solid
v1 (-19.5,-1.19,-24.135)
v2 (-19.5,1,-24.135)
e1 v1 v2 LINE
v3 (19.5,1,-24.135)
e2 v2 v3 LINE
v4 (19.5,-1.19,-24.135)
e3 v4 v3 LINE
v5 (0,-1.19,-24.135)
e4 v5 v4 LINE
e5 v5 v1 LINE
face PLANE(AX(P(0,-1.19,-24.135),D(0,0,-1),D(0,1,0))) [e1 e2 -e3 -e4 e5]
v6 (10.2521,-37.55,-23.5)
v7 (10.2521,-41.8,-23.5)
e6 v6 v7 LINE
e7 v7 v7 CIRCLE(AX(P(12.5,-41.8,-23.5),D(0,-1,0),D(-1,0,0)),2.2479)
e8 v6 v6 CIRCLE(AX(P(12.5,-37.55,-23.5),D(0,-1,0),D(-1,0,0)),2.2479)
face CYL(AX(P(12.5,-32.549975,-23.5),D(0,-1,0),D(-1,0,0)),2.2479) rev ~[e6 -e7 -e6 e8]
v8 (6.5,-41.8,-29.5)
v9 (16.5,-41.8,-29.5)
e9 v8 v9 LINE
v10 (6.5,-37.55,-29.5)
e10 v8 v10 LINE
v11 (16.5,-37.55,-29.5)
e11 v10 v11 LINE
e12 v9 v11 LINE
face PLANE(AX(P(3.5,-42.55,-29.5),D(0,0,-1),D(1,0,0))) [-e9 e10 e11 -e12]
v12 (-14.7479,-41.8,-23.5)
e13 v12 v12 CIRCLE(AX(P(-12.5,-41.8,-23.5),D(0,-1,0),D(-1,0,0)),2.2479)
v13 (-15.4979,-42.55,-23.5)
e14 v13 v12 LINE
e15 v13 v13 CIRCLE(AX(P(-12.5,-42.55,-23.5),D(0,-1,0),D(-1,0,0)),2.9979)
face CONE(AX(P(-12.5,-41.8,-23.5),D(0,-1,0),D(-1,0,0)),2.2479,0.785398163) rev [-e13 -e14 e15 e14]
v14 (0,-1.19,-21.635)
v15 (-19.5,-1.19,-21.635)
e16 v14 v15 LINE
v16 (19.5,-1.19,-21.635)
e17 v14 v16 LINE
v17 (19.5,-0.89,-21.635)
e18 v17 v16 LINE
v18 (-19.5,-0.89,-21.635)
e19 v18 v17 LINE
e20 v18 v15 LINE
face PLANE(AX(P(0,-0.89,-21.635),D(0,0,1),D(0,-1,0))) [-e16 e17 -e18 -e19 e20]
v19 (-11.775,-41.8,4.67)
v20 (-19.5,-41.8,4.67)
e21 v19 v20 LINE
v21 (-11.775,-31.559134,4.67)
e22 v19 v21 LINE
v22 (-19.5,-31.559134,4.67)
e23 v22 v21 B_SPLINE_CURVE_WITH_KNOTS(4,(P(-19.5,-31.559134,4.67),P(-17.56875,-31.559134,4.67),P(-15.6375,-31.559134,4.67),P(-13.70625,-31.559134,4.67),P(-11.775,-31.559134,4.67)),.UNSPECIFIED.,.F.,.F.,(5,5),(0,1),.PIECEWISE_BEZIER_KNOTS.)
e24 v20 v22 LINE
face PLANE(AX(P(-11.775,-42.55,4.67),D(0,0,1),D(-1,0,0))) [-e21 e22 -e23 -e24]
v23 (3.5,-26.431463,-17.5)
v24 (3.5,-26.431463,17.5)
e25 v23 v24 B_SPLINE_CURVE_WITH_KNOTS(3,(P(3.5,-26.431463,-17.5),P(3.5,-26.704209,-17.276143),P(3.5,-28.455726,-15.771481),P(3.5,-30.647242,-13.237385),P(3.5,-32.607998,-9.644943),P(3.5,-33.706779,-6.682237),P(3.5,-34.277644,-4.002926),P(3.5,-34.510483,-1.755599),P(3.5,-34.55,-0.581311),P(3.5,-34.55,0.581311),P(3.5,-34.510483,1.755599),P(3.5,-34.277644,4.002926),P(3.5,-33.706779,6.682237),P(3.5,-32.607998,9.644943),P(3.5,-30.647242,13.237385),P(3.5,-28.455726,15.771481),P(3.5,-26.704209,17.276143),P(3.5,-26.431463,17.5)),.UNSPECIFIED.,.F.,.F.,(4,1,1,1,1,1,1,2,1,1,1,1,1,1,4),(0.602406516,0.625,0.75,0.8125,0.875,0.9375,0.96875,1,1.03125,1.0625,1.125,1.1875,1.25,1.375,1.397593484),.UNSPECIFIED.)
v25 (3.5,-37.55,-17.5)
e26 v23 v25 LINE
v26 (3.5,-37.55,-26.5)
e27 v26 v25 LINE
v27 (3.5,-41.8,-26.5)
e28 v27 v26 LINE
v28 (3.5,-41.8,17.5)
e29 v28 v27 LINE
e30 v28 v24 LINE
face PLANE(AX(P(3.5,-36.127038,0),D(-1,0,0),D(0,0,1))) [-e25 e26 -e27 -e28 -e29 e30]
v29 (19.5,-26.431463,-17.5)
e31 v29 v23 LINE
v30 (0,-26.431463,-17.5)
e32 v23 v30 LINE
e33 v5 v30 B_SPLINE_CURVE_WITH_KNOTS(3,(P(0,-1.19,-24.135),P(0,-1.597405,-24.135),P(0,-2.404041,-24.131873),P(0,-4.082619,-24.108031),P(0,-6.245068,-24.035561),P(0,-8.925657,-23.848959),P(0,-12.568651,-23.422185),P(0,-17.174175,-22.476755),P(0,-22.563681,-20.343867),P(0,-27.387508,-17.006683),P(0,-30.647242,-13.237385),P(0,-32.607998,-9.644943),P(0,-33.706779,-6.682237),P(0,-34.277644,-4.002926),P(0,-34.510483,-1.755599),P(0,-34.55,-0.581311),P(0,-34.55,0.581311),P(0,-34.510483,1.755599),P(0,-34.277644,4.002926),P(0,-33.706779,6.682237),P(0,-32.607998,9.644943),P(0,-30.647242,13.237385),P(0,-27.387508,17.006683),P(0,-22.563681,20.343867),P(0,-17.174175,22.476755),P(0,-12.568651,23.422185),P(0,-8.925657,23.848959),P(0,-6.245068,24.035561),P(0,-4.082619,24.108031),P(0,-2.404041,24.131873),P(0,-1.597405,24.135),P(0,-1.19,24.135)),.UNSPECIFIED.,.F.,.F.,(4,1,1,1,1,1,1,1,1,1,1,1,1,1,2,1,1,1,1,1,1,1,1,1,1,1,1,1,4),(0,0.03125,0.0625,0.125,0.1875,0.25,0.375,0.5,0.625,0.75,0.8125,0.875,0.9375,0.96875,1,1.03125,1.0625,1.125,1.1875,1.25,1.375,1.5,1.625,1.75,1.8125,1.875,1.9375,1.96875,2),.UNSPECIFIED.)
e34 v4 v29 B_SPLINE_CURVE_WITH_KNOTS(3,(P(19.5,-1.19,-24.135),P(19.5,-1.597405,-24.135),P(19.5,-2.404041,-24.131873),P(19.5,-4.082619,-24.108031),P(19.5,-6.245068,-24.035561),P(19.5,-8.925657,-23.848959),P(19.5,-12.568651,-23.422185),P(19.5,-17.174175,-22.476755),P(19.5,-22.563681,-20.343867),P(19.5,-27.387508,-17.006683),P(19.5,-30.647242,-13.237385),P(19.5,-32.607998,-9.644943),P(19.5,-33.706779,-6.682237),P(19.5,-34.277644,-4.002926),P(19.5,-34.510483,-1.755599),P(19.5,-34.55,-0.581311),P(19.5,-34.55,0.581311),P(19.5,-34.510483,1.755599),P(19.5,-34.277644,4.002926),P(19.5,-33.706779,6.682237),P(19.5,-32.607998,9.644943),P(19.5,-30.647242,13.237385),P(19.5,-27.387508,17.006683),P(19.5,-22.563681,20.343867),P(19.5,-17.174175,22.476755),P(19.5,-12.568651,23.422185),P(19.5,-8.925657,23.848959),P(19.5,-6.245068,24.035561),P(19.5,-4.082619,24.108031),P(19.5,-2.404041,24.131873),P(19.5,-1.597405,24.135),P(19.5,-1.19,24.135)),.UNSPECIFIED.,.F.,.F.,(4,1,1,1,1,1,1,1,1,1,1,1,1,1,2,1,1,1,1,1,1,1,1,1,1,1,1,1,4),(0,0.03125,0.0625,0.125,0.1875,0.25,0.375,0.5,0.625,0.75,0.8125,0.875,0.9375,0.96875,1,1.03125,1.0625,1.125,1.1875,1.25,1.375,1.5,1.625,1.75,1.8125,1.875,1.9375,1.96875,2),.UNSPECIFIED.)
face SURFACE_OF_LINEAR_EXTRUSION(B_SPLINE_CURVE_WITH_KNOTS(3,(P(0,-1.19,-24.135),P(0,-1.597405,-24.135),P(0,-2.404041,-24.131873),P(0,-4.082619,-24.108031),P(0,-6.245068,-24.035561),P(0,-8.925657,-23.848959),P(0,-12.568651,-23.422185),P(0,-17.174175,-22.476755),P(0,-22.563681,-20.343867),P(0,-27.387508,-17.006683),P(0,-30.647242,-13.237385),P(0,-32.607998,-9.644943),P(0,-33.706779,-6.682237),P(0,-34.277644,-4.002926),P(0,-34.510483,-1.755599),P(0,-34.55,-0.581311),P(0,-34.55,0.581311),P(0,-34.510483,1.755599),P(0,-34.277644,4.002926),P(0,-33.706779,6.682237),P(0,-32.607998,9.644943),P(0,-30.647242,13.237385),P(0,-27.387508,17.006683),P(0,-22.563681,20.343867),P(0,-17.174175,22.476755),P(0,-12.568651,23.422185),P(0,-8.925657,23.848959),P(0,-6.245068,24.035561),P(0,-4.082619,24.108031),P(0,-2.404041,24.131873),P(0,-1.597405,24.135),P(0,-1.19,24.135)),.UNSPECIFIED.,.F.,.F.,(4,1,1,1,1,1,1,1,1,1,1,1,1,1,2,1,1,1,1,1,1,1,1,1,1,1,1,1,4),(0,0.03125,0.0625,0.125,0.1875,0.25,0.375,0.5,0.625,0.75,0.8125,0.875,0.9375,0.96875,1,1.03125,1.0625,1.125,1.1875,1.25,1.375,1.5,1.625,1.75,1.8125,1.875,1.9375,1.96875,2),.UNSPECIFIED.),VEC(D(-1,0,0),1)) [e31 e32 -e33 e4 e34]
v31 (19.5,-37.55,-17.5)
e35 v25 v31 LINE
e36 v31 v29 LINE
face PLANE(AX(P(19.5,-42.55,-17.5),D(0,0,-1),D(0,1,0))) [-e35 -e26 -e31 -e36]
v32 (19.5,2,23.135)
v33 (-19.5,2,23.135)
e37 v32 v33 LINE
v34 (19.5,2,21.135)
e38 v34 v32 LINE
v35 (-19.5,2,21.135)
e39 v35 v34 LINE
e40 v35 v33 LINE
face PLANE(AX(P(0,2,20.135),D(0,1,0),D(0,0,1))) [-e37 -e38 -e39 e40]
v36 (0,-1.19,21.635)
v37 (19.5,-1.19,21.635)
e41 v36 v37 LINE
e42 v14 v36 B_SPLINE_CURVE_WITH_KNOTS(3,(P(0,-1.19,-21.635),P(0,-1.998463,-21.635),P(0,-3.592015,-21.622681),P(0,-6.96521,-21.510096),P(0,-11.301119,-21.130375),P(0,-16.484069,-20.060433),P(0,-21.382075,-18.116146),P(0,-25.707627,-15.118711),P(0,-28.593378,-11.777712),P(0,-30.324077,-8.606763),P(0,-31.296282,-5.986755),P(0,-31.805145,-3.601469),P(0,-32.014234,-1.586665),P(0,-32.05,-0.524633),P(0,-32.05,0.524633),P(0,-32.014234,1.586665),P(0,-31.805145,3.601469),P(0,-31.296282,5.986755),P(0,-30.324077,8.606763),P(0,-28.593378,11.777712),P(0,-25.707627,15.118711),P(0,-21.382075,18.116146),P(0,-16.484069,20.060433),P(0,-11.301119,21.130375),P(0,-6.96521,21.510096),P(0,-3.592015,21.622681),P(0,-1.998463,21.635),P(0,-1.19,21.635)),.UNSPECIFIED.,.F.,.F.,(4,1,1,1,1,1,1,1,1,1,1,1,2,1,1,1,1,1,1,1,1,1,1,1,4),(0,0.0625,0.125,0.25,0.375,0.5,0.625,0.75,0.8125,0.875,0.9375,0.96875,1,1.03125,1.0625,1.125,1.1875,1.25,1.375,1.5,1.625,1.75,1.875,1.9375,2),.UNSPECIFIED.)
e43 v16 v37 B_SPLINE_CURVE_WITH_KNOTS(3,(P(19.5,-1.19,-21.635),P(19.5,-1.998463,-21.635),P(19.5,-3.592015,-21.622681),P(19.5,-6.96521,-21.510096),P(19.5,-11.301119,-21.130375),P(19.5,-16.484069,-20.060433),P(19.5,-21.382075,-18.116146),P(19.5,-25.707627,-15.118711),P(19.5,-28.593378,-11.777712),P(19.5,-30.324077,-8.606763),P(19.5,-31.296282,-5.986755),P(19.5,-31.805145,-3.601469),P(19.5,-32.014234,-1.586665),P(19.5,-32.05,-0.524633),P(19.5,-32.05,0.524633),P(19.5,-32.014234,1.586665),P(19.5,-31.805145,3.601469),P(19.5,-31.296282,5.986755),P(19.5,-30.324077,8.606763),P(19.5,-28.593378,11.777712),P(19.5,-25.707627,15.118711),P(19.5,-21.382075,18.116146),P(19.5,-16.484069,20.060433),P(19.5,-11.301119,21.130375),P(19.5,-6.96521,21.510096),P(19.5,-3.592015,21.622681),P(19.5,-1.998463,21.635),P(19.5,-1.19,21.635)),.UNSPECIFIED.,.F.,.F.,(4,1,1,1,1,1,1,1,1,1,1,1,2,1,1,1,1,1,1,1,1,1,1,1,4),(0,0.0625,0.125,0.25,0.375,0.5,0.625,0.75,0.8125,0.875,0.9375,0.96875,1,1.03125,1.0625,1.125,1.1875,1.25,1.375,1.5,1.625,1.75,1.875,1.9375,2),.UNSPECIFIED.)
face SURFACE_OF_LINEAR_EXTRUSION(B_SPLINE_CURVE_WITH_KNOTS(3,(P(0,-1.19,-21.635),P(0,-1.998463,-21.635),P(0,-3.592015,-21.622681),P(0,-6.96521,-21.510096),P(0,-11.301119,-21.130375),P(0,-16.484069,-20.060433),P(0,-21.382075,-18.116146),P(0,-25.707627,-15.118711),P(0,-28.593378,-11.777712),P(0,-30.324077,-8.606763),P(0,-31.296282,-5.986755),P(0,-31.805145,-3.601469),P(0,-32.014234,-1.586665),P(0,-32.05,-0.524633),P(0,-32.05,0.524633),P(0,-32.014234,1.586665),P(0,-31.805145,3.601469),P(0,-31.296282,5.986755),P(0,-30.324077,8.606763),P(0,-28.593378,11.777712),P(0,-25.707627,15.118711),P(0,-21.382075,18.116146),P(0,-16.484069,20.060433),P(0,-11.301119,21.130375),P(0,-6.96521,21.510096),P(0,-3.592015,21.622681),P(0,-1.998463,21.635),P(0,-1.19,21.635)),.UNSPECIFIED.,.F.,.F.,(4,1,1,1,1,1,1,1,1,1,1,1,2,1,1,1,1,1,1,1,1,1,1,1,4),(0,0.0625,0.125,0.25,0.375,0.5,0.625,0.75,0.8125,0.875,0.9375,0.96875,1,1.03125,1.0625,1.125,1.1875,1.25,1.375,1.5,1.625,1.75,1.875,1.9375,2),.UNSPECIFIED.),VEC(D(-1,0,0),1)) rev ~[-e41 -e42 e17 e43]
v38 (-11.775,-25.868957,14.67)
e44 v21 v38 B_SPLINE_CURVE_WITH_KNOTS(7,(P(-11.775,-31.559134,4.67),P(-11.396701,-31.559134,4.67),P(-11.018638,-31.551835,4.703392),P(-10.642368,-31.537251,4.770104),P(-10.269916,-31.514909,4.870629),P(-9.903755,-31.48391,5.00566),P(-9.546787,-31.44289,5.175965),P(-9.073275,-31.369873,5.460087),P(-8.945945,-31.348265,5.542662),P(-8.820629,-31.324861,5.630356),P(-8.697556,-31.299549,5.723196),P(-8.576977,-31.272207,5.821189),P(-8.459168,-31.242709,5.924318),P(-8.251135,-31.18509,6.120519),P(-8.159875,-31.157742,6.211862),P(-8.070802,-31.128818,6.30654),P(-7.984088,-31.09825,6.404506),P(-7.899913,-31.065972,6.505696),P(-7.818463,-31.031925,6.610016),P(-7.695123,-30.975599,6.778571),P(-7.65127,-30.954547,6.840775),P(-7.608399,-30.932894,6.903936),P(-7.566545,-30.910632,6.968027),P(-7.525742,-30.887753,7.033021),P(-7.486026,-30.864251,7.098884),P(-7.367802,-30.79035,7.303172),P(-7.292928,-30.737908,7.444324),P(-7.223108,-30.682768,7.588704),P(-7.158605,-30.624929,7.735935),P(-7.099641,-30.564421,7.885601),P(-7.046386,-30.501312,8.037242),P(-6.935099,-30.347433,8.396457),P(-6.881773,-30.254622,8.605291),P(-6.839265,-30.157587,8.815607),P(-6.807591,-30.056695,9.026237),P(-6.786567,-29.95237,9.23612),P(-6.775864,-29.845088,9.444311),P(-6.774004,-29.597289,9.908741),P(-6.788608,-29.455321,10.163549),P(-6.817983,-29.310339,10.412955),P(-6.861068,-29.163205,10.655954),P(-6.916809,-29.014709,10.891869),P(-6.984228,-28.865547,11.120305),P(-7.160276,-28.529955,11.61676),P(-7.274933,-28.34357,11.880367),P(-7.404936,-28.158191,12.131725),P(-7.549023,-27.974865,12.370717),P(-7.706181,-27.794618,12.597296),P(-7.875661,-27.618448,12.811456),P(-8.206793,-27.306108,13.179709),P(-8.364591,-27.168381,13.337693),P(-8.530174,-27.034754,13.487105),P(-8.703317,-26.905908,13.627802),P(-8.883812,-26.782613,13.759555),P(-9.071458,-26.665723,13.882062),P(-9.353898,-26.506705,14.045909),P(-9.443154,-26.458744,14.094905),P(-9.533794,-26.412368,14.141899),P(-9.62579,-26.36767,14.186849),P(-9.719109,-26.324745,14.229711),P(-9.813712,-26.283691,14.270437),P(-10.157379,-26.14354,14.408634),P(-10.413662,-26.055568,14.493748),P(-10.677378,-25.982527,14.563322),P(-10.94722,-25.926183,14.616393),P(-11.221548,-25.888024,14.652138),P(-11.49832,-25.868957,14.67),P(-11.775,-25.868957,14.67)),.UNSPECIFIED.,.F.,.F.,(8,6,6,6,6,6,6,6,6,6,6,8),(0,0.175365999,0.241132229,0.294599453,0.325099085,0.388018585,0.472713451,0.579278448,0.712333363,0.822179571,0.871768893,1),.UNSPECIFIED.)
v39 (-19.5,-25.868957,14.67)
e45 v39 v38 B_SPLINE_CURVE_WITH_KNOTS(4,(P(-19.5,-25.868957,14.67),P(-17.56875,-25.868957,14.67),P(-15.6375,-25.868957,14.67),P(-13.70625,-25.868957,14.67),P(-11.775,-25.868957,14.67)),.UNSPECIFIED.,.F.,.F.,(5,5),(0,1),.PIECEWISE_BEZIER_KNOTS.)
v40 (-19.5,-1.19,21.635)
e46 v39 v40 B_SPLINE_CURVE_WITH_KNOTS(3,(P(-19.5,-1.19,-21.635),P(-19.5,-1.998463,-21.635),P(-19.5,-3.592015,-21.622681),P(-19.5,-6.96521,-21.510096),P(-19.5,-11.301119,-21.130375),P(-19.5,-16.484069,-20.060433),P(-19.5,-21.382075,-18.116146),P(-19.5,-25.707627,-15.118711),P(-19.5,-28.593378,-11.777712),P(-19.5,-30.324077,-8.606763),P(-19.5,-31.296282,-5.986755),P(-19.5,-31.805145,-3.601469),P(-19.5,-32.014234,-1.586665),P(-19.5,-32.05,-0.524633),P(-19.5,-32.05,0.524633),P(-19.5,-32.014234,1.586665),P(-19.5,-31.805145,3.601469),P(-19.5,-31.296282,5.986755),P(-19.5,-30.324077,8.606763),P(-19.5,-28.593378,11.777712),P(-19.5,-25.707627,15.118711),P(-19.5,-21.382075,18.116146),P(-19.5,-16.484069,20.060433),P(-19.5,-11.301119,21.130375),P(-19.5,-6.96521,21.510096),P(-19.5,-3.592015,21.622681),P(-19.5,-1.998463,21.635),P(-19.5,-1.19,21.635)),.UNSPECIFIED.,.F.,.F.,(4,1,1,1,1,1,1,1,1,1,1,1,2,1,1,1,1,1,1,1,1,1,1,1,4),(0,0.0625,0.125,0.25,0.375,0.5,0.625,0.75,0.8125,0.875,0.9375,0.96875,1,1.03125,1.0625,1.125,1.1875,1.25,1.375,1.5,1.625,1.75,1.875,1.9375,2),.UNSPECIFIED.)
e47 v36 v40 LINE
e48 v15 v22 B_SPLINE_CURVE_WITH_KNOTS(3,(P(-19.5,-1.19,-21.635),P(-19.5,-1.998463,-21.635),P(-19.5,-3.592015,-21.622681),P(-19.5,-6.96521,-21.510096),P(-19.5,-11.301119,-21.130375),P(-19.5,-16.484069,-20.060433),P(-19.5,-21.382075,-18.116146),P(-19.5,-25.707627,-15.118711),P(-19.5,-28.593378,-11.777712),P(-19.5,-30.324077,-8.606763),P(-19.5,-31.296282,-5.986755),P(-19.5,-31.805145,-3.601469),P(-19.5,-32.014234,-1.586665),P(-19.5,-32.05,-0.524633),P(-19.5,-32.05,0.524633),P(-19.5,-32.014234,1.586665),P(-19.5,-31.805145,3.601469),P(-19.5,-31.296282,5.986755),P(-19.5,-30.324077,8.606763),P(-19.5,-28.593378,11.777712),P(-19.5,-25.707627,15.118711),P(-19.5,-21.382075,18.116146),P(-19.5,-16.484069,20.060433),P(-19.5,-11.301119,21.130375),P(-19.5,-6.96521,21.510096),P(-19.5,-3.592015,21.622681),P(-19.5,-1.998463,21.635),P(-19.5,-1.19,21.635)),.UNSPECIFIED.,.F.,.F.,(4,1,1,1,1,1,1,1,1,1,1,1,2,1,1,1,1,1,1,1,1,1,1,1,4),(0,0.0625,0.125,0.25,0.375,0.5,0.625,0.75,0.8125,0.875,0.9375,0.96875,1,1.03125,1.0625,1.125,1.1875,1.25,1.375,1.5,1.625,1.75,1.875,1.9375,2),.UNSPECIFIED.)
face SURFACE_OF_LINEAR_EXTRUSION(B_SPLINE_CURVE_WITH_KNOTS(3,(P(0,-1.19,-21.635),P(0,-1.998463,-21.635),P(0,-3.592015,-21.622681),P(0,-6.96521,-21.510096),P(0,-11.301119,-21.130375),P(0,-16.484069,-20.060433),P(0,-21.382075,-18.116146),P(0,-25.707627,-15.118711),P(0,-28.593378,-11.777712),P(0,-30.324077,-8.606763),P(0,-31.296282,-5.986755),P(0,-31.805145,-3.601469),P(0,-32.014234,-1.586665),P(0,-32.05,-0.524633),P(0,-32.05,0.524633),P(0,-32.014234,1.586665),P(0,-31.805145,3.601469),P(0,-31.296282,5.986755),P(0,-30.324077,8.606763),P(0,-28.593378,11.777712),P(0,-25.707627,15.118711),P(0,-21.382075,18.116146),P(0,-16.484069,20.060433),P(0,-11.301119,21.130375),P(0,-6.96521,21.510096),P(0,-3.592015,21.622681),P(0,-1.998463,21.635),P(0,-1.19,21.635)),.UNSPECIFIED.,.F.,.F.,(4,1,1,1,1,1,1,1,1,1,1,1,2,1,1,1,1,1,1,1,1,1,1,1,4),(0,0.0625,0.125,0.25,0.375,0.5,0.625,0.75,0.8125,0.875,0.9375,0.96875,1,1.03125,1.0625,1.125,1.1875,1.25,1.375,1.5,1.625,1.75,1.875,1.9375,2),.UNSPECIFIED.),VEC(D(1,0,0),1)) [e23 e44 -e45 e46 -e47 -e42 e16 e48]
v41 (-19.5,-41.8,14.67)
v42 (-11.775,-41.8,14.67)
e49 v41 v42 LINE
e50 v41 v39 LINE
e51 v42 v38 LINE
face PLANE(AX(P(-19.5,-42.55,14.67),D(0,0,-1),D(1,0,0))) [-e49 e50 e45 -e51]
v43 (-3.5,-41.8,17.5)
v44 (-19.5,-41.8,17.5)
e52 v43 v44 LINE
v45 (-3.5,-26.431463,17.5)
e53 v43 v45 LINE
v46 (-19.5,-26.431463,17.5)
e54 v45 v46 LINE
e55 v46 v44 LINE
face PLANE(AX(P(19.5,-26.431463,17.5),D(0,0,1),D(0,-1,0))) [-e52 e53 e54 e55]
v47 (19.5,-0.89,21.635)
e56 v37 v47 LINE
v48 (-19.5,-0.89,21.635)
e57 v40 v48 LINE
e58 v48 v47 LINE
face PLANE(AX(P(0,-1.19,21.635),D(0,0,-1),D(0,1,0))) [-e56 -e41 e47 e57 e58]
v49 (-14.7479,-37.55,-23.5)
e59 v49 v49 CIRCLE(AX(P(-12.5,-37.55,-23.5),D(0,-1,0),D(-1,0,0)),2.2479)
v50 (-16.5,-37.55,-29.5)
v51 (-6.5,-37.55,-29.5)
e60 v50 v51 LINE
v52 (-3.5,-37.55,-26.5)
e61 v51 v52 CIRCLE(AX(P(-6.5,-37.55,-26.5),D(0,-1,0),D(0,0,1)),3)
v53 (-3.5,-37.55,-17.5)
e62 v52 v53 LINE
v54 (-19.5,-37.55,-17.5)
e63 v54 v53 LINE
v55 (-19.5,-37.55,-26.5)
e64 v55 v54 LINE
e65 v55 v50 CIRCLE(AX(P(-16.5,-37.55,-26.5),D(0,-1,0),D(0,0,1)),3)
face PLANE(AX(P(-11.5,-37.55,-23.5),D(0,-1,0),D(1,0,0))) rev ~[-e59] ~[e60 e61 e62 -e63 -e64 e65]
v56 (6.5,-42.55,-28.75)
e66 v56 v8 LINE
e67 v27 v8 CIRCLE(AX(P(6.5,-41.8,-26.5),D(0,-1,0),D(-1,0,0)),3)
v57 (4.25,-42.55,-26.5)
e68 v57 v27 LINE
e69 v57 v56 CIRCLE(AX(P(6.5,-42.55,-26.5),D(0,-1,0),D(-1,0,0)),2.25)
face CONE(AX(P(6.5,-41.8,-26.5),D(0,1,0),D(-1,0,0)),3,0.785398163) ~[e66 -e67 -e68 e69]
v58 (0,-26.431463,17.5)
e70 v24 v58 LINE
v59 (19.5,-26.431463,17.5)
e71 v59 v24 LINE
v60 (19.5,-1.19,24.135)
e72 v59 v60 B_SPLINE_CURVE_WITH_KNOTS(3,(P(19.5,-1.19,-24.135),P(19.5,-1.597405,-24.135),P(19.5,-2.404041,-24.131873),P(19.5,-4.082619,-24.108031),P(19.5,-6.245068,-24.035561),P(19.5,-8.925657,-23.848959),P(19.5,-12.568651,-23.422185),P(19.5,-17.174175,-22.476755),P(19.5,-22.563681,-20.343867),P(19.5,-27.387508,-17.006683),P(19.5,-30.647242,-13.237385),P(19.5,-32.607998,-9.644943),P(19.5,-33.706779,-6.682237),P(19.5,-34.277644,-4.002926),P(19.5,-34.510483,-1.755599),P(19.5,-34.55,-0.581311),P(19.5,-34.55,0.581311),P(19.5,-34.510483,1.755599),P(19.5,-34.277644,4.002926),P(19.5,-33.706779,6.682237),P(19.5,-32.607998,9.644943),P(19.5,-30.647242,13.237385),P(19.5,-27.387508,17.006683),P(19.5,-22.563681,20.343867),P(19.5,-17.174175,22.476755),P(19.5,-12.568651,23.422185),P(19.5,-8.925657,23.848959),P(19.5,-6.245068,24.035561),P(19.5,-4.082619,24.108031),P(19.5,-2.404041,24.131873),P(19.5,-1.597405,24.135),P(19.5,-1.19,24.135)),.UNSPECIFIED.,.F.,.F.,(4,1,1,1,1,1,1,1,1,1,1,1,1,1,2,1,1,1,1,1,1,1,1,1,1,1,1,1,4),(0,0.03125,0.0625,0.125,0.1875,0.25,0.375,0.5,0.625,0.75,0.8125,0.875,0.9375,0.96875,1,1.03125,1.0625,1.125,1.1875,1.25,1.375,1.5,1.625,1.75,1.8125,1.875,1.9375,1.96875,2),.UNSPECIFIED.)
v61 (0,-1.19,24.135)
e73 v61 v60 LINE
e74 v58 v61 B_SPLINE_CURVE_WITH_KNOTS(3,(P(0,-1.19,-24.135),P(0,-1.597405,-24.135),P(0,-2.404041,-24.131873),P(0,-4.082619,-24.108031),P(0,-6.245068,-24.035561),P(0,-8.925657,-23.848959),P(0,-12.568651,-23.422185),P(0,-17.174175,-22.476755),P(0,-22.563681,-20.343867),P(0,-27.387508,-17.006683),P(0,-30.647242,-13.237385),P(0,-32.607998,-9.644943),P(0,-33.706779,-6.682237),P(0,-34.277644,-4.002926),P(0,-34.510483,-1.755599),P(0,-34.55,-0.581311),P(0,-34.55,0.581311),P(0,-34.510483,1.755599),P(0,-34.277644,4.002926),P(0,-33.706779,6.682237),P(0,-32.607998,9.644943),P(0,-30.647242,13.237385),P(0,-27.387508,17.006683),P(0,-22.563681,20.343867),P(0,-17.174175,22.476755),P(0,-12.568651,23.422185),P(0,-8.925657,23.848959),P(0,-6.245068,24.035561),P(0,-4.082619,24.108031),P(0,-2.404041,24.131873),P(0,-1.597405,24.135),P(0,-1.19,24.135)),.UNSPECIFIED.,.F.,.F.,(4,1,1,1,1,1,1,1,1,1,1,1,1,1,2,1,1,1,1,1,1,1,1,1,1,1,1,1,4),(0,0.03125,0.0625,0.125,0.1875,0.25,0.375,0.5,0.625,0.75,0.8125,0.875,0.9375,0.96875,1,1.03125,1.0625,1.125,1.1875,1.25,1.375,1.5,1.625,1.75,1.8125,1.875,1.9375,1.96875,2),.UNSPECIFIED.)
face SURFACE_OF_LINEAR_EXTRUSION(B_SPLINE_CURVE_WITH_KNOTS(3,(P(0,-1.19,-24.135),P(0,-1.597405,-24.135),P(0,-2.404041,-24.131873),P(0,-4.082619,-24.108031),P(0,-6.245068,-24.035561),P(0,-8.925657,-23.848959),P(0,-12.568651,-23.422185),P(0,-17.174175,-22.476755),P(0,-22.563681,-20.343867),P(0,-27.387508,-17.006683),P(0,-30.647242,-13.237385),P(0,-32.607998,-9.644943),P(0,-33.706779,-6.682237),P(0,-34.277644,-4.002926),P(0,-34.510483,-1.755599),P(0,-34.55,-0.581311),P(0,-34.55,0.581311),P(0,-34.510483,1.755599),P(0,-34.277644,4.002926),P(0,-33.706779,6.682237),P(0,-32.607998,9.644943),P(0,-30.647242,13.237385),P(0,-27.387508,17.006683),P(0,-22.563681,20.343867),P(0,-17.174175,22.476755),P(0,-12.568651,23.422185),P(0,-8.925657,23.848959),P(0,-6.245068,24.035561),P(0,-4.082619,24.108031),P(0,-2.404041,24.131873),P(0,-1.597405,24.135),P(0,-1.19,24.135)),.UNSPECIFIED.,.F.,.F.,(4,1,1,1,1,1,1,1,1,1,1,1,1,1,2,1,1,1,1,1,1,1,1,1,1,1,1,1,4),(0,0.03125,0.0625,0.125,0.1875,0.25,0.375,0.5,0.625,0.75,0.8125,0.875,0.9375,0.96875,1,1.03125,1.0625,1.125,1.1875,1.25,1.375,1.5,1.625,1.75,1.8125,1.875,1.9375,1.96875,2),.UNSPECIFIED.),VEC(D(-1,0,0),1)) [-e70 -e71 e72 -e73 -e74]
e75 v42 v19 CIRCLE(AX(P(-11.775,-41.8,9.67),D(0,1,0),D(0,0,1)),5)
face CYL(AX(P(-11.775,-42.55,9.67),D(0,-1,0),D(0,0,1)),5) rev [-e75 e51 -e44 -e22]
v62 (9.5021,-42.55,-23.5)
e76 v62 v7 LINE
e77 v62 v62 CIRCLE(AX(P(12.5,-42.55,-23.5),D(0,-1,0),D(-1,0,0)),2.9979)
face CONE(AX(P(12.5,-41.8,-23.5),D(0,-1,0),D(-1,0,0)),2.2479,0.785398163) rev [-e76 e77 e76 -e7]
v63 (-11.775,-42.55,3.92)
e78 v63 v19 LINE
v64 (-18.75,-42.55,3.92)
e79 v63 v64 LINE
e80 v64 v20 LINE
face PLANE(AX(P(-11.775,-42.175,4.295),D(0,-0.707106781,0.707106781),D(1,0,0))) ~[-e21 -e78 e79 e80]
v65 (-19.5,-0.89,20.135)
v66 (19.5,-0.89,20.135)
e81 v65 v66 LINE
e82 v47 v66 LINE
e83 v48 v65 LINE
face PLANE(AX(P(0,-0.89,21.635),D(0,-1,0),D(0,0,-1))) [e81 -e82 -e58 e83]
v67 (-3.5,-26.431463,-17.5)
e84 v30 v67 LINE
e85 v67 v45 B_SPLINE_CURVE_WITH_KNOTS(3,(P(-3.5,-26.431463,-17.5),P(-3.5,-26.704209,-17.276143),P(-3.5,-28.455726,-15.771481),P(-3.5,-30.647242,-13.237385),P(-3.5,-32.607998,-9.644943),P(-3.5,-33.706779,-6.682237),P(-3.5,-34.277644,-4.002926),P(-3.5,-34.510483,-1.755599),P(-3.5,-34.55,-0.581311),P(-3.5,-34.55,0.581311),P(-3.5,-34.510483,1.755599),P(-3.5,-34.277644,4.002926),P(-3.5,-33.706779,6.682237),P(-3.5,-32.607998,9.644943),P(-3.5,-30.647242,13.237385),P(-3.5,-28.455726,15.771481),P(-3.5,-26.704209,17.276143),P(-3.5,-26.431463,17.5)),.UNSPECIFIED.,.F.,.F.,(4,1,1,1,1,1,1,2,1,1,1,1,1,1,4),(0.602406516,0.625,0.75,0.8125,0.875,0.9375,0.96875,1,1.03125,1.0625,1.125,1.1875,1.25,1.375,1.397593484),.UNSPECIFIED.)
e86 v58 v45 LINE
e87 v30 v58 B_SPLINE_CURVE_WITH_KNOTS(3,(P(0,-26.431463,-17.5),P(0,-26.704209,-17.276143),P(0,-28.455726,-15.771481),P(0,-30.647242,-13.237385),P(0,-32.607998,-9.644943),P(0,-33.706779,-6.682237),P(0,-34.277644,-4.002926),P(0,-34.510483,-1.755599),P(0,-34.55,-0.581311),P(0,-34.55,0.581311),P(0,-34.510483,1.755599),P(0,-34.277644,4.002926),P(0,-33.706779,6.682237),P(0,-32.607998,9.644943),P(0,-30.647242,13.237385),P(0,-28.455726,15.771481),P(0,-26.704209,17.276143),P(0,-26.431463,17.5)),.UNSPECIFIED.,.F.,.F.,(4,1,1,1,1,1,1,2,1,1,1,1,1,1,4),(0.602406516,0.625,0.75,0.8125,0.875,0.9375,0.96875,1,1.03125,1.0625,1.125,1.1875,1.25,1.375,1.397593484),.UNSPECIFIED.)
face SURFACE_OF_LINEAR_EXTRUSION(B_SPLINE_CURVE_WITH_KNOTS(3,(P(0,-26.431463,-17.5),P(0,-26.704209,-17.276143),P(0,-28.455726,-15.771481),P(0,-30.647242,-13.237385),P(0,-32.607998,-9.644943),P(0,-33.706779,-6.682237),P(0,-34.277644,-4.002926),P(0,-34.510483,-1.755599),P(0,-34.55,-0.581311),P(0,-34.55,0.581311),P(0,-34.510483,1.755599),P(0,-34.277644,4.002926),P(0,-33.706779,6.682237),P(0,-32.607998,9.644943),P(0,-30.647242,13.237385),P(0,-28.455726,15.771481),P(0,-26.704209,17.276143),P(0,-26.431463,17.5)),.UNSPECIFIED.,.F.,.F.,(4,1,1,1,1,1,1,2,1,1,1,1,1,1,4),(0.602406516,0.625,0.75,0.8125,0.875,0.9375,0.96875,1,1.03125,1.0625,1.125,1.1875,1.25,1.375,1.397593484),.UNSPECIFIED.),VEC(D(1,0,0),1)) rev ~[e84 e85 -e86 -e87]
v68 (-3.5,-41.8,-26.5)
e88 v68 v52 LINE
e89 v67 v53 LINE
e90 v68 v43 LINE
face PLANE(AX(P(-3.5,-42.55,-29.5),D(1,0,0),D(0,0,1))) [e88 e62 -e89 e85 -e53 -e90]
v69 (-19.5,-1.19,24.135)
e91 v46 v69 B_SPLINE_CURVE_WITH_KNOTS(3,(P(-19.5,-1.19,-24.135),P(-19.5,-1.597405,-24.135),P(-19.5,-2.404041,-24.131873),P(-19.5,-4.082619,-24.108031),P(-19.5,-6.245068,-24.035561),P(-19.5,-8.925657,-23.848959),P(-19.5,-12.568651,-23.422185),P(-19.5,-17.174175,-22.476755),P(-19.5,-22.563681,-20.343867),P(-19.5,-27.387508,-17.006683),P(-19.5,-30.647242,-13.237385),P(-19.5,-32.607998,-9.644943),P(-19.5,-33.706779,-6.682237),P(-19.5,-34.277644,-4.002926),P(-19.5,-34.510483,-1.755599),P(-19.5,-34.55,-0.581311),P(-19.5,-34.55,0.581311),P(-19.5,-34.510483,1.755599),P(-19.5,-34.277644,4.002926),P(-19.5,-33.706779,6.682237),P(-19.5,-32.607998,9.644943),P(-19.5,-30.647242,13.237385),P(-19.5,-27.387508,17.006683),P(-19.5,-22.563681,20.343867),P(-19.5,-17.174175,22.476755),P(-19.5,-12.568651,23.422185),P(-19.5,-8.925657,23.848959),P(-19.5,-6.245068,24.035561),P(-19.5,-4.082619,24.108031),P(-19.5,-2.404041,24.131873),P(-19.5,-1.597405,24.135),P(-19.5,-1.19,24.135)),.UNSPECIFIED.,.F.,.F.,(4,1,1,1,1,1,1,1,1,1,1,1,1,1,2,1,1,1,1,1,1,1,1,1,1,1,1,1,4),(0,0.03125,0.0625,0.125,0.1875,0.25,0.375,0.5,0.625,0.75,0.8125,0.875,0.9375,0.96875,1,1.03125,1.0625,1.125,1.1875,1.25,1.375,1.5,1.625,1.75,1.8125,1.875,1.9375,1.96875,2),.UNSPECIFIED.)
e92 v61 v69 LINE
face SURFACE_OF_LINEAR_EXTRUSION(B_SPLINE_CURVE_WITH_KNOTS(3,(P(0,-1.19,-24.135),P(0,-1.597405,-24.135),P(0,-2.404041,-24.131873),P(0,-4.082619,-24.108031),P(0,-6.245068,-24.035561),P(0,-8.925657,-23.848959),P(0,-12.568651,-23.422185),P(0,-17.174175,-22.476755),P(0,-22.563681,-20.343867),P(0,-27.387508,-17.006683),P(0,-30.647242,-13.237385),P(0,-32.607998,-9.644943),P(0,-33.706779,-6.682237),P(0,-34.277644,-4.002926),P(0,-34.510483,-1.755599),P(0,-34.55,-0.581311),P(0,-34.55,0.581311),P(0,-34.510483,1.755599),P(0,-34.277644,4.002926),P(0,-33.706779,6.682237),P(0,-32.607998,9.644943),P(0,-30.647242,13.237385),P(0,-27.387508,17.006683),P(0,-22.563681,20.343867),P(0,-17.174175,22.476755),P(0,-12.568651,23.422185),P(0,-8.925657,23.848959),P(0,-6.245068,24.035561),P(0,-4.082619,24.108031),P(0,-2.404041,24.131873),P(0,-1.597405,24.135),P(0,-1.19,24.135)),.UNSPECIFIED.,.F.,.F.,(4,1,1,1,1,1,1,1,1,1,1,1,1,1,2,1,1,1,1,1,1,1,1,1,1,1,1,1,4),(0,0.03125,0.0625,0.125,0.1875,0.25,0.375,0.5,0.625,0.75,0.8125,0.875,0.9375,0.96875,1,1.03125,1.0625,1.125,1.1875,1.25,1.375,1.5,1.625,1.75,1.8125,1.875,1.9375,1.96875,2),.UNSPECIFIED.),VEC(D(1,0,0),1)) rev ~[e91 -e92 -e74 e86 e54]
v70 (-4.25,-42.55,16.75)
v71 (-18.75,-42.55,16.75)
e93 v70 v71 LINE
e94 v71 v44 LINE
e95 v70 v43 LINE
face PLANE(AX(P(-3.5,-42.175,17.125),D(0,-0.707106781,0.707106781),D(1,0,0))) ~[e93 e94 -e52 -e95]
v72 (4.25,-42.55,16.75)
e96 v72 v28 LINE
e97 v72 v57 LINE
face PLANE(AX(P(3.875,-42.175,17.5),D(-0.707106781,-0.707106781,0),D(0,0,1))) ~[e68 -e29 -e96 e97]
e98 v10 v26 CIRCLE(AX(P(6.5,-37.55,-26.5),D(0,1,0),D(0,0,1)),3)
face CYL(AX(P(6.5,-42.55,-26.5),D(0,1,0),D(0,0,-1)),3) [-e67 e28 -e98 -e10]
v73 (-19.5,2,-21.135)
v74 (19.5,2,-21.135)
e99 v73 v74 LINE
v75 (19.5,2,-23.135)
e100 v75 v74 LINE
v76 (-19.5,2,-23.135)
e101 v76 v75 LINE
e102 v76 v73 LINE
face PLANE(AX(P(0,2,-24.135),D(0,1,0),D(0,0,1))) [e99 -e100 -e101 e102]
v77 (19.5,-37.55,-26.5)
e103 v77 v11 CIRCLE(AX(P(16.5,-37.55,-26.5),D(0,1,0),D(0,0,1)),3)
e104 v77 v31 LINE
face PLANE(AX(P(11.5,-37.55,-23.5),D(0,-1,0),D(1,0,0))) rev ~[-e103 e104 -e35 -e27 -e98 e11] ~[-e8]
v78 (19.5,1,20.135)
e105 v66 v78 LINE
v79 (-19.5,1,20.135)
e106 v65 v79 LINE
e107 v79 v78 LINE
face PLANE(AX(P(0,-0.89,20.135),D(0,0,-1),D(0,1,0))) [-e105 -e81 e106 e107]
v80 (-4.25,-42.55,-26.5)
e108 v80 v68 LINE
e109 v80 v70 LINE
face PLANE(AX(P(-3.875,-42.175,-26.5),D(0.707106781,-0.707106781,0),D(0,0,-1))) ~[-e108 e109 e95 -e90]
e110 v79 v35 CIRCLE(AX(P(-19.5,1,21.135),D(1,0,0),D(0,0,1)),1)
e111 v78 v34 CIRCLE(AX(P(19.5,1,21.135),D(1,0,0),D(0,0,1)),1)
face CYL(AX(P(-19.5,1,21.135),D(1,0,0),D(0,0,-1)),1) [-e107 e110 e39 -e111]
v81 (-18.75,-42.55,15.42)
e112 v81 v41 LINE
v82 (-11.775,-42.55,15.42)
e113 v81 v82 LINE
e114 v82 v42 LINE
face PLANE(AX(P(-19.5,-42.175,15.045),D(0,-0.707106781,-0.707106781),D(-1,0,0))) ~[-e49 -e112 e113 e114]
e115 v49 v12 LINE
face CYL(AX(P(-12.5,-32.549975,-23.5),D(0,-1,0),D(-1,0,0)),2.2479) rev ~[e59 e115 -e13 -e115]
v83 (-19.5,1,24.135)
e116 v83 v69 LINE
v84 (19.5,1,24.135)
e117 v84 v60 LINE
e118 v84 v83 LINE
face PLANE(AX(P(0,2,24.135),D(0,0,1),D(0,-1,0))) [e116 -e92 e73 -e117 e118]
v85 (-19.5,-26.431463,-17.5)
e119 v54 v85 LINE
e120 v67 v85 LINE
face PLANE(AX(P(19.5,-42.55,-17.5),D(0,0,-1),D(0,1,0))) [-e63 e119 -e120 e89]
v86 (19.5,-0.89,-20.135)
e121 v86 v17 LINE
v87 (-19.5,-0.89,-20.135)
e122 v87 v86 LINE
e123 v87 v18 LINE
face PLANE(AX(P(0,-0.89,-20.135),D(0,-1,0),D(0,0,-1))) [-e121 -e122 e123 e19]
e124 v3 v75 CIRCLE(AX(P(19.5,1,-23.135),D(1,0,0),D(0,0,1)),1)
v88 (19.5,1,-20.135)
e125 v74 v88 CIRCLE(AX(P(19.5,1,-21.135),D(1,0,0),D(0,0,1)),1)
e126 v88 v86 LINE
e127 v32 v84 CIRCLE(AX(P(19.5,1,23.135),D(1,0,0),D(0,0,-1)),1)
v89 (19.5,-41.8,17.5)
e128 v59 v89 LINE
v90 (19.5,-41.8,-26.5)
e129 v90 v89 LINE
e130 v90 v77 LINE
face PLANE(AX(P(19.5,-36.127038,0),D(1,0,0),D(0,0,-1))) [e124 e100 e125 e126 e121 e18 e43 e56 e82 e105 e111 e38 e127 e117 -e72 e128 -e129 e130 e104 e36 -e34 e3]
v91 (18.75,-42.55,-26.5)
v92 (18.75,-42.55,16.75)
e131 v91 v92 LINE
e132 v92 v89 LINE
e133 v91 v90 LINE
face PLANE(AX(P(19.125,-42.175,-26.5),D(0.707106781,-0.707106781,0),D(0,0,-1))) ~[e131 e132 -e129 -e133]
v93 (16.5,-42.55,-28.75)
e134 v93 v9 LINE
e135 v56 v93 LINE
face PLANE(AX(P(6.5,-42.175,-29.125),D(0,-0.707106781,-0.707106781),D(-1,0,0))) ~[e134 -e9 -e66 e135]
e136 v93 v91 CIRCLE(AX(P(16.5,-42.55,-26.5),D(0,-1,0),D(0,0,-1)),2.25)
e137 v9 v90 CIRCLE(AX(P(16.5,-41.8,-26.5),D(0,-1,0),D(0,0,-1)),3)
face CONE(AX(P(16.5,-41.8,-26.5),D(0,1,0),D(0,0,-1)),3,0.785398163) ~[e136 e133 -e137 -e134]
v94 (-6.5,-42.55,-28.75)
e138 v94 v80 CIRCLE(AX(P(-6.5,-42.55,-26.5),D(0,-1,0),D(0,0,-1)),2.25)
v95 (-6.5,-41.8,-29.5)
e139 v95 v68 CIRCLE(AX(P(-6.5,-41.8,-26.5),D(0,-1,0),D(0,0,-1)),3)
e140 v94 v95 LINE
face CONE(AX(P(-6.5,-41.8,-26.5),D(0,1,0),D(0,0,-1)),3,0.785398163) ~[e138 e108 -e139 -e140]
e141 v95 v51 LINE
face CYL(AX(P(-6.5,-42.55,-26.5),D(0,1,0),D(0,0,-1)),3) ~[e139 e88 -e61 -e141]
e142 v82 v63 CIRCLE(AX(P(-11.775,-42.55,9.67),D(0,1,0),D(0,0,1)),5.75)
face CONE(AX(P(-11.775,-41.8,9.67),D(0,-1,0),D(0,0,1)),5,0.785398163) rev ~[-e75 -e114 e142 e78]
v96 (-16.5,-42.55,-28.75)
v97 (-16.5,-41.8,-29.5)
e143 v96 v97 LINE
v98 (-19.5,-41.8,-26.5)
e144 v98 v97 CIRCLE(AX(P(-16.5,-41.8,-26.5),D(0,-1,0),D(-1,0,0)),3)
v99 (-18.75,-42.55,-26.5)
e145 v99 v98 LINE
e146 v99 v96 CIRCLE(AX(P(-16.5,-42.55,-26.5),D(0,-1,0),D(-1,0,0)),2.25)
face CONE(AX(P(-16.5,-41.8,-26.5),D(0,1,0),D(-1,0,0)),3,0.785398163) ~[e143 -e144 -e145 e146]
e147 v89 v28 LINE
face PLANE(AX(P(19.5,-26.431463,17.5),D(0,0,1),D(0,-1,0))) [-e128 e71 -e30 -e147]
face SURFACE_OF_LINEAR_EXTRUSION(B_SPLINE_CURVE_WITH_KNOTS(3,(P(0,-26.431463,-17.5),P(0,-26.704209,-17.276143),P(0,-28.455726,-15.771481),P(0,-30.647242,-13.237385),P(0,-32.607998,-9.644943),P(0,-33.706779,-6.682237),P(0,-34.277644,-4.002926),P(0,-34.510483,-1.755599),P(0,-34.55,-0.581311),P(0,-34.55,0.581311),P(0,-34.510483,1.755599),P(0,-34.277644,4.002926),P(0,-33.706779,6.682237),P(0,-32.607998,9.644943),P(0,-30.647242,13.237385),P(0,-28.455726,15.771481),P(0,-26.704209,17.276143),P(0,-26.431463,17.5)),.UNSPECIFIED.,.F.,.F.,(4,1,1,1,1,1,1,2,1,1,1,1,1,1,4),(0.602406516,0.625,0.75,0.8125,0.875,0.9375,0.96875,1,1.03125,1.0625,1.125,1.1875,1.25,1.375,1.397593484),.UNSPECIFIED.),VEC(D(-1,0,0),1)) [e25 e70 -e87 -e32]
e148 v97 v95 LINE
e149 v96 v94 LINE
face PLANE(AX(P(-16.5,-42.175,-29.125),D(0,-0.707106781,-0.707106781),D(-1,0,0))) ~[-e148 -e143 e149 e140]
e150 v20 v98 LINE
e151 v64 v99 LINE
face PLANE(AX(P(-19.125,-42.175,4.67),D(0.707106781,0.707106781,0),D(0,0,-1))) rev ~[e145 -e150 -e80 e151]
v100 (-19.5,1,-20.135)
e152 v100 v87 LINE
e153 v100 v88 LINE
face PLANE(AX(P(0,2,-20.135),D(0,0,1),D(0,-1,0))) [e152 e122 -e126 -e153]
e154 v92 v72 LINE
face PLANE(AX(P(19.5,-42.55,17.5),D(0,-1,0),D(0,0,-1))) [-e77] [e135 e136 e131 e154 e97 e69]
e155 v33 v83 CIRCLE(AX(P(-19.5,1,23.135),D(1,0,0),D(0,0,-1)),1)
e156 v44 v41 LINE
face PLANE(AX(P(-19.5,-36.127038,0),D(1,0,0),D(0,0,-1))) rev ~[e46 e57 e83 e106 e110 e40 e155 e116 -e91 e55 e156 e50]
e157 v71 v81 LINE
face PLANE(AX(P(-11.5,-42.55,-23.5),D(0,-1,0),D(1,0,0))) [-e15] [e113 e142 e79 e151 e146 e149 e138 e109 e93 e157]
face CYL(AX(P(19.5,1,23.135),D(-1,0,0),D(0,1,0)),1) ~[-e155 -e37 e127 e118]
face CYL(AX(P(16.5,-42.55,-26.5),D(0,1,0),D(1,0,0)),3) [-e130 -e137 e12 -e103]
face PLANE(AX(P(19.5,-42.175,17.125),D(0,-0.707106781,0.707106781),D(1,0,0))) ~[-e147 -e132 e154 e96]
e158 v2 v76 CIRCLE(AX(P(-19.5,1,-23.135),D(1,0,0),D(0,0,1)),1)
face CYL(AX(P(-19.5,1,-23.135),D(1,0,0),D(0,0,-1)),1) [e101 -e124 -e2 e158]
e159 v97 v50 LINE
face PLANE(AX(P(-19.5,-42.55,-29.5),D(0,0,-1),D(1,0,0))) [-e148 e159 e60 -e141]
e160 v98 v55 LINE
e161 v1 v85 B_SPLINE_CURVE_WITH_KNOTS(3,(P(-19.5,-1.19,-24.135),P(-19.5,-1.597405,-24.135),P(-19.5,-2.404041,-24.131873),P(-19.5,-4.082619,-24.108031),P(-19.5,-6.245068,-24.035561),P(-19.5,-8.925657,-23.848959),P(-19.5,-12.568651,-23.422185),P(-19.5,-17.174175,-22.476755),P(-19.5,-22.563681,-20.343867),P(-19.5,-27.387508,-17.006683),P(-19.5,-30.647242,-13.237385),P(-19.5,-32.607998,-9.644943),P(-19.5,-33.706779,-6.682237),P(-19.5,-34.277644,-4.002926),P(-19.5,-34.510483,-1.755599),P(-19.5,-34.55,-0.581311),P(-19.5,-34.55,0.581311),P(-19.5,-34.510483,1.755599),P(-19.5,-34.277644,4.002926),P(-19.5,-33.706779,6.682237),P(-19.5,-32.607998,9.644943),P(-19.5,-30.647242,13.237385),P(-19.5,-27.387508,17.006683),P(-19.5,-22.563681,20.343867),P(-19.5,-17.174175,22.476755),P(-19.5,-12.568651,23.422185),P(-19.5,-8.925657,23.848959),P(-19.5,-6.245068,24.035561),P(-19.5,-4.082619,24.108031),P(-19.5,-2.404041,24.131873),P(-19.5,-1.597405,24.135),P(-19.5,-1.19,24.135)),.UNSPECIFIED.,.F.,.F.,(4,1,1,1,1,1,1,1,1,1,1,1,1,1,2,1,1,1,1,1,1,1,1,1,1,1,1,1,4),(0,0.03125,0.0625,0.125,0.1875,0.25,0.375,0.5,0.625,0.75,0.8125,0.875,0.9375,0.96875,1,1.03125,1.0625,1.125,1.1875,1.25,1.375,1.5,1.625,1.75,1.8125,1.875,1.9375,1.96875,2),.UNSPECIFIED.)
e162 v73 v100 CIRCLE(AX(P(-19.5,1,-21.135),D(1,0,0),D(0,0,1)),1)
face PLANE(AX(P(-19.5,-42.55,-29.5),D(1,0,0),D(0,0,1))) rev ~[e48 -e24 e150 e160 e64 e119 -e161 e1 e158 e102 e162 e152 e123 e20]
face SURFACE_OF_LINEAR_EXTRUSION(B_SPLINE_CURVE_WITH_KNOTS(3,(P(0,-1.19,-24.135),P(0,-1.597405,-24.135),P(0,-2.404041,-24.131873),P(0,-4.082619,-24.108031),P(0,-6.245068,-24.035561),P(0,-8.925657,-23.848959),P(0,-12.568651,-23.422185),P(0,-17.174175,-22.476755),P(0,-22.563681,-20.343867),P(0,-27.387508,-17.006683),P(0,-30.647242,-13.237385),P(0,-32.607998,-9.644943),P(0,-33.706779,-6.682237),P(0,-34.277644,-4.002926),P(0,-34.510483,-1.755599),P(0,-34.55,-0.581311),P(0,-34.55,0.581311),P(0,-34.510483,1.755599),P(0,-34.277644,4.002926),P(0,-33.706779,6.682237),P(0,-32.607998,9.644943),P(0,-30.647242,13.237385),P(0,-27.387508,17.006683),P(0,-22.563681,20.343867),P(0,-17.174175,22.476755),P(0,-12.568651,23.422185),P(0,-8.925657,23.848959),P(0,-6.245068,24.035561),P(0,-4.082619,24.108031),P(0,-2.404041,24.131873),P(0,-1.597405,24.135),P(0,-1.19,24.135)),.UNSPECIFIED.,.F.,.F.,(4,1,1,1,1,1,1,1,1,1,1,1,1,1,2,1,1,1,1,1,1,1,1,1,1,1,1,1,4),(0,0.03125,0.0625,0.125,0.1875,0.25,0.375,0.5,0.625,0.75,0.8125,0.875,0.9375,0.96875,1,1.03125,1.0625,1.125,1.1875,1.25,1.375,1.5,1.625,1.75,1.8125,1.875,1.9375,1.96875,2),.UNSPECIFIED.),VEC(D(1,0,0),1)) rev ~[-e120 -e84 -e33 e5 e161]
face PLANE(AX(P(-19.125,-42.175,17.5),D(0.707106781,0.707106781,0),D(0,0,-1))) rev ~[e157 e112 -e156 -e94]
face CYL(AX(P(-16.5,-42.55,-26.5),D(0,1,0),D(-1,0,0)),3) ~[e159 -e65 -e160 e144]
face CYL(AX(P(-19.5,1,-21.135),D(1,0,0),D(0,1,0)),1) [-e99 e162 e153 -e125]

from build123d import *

# Parameters (mm, degrees)
BOSS_EXTRUDE1_DEPTH       = 19.5
BOSS_EXTRUDE2_DEPTH       = 39
CUT_EXTRUDE3_DEPTH        = 3.5
CUT_EXTRUDE4_DEPTH        = 55.290429568
FILLET3_R                 = 1
SKETCH17_W                = 16
SKETCH17_H                = 12
BOSS_EXTRUDE5_DEPTH       = 5
F_8_CLEARANCE_HOLE3_D     = 4.4958
F_8_CLEARANCE_HOLE3_DEPTH = 5.000025
FILLET4_R                 = 3
CHAMFER3_SIZE             = 0.75


with BuildPart() as part:
    # Sketch1 → Boss-Extrude1 (new, symmetric)
    with BuildSketch(Plane(origin=(0, 0, 0), x_dir=(0, 0, -1), z_dir=(1, 0, 0))):
        with BuildLine():
            Line((24.135, -1.19), (24.135, 2))
            Line((24.135, 2), (20.135, 2))
            Line((20.135, 2), (20.135, -0.89))
            Line((20.135, -0.89), (21.635, -0.89))
            Line((21.635, -0.89), (21.635, -1.19))
            add(Edge.make_bspline(
                [(21.635, -1.19), (21.635, -1.998462676), (21.622680551, -3.592014532), (21.510096247, -6.965209866), (21.130375225, -11.301119131), (20.060433065, -16.48406934), (18.116145963, -21.382074575), (15.118711368, -25.707626918), (11.777711797, -28.59337759), (8.606762697, -30.324077361), (5.986754657, -31.296281996), (3.601468567, -31.805145363), (1.586664566, -32.014234184), (0.524632806, -32.05), (0, -32.05)],
                knots=[0, 0, 0, 0, 0.0625, 0.125, 0.25, 0.375, 0.5, 0.625, 0.75, 0.8125, 0.875, 0.9375, 0.96875, 1, 1, 1, 1], degree=3))
            add(Edge.make_bspline(
                [(0, -32.05), (-0.524632806, -32.05), (-1.586664566, -32.014234184), (-3.601468567, -31.805145363), (-5.986754657, -31.296281996), (-8.606762697, -30.324077361), (-11.777711797, -28.59337759), (-15.118711368, -25.707626918), (-18.116145963, -21.382074575), (-20.060433065, -16.48406934), (-21.130375225, -11.301119131), (-21.510096247, -6.965209866), (-21.622680551, -3.592014532), (-21.635, -1.998462676), (-21.635, -1.19)],
                knots=[0, 0, 0, 0, 0.03125, 0.0625, 0.125, 0.1875, 0.25, 0.375, 0.5, 0.625, 0.75, 0.875, 0.9375, 1, 1, 1, 1], degree=3))
            Line((-21.635, -1.19), (-21.635, -0.89))
            Line((-21.635, -0.89), (-20.135, -0.89))
            Line((-20.135, -0.89), (-20.135, 2))
            Line((-20.135, 2), (-24.135, 2))
            Line((-24.135, 2), (-24.135, -1.19))
            add(Edge.make_bspline(
                [(0, -34.55), (-0.581310806, -34.55), (-1.755598946, -34.510482709), (-4.00292596, -34.277644235), (-6.682236507, -33.706779298), (-9.644943363, -32.607998263), (-13.237385134, -30.647242284), (-17.006683041, -27.387507945), (-20.343867001, -22.563681145), (-22.476754921, -17.174175127), (-23.422185467, -12.568650897), (-23.848958822, -8.925657265), (-24.035561365, -6.245067567), (-24.108030812, -4.082618687), (-24.131873053, -2.404041328), (-24.135, -1.59740537), (-24.135, -1.19)],
                knots=[0, 0, 0, 0, 0.03125, 0.0625, 0.125, 0.1875, 0.25, 0.375, 0.5, 0.625, 0.75, 0.8125, 0.875, 0.9375, 0.96875, 1, 1, 1, 1], degree=3))
            add(Edge.make_bspline(
                [(24.135, -1.19), (24.135, -1.59740537), (24.131873053, -2.404041328), (24.108030812, -4.082618687), (24.035561365, -6.245067567), (23.848958822, -8.925657265), (23.422185467, -12.568650897), (22.476754921, -17.174175127), (20.343867001, -22.563681145), (17.006683041, -27.387507945), (13.237385134, -30.647242284), (9.644943363, -32.607998263), (6.682236507, -33.706779298), (4.00292596, -34.277644235), (1.755598946, -34.510482709), (0.581310806, -34.55), (0, -34.55)],
                knots=[0, 0, 0, 0, 0.03125, 0.0625, 0.125, 0.1875, 0.25, 0.375, 0.5, 0.625, 0.75, 0.8125, 0.875, 0.9375, 0.96875, 1, 1, 1, 1], degree=3))
        make_face()
    extrude(amount=BOSS_EXTRUDE1_DEPTH, both=True)

    # Sketch4 → Boss-Extrude2 (add)
    with BuildSketch(Plane(origin=(19.5, 0, 0), x_dir=(0, 0, -1), z_dir=(1, 0, 0))):
        with BuildLine():
            Line((-17.5, -26.431462607), (-17.5, -42.55))
            Line((-17.5, -42.55), (17.5, -42.55))
            Line((17.5, -42.55), (17.5, -26.431462607))
            add(Edge.make_bspline(
                [(0, -34.55), (0.581310806, -34.55), (1.755598946, -34.510482709), (4.00292596, -34.277644235), (6.682236507, -33.706779298), (9.644943363, -32.607998263), (13.237385134, -30.647242284), (15.771480911, -28.45572566), (17.276143202, -26.704208912), (17.5, -26.431462607)],
                knots=[0, 0, 0, 0, 0.03125, 0.0625, 0.125, 0.1875, 0.25, 0.375, 0.397593484, 0.397593484, 0.397593484, 0.397593484], degree=3))
            add(Edge.make_bspline(
                [(-17.5, -26.431462607), (-17.276143202, -26.704208912), (-15.771480911, -28.45572566), (-13.237385134, -30.647242284), (-9.644943363, -32.607998263), (-6.682236507, -33.706779298), (-4.00292596, -34.277644235), (-1.755598946, -34.510482709), (-0.581310806, -34.55), (0, -34.55)],
                knots=[0.602406516, 0.602406516, 0.602406516, 0.602406516, 0.625, 0.75, 0.8125, 0.875, 0.9375, 0.96875, 1, 1, 1, 1], degree=3))
        make_face()
    extrude(amount=-BOSS_EXTRUDE2_DEPTH)

    # Sketch14 → Cut-Extrude3 (cut, symmetric)
    with BuildSketch(Plane(origin=(0, 0, 0), x_dir=(0, 0, -1), z_dir=(1, 0, 0))):
        with BuildLine():
            Line((-17.5, -42.55), (-17.5, -26.431462607))
            add(Edge.make_bspline(
                [(0, -34.55), (-0.581310806, -34.55), (-1.755598946, -34.510482709), (-4.00292596, -34.277644235), (-6.682236507, -33.706779298), (-9.644943363, -32.607998263), (-13.237385134, -30.647242284), (-15.771480911, -28.45572566), (-17.276143202, -26.704208912), (-17.5, -26.431462607)],
                knots=[0, 0, 0, 0, 0.03125, 0.0625, 0.125, 0.1875, 0.25, 0.375, 0.397593484, 0.397593484, 0.397593484, 0.397593484], degree=3))
            add(Edge.make_bspline(
                [(17.5, -26.431462607), (17.276143202, -26.704208912), (15.771480911, -28.45572566), (13.237385134, -30.647242284), (9.644943363, -32.607998263), (6.682236507, -33.706779298), (4.00292596, -34.277644235), (1.755598946, -34.510482709), (0.581310806, -34.55), (0, -34.55)],
                knots=[0.602406516, 0.602406516, 0.602406516, 0.602406516, 0.625, 0.75, 0.8125, 0.875, 0.9375, 0.96875, 1, 1, 1, 1], degree=3))
            Line((17.5, -26.431462607), (17.5, -42.55))
            Line((17.5, -42.55), (-17.5, -42.55))
        make_face()
    extrude(amount=CUT_EXTRUDE3_DEPTH, both=True, mode=Mode.SUBTRACT)

    # Sketch15 → Cut-Extrude4 (cut, through all)
    with BuildSketch(Plane.XZ.offset(42.55)):
        with BuildLine():
            Line((-19.5, 14.67), (-11.775, 14.67))
            ThreePointArc((-11.775, 14.67), (-6.775, 9.67), (-11.775, 4.67))
            Line((-11.775, 4.67), (-19.5, 4.67))
            Line((-19.5, 4.67), (-19.5, 14.67))
        make_face()
    extrude(amount=-CUT_EXTRUDE4_DEPTH, mode=Mode.SUBTRACT)

    # Fillet3
    fillet3_edges = [part.edges().sort_by_distance(p)[0] for p in [
        (0, 2, -20.135),
        (0, 2, -24.135),
        (0, 2, 24.135),
        (0, 2, 20.135),
    ]]
    fillet(fillet3_edges, radius=FILLET3_R)

    # Sketch17 → Boss-Extrude5 (add)
    with BuildSketch(Plane.XZ.offset(42.55)):
        with Locations((-11.5, -23.5)):
            Rectangle(SKETCH17_W, SKETCH17_H)
        with Locations((11.5, -23.5)):
            Rectangle(SKETCH17_W, SKETCH17_H)
    extrude(amount=-BOSS_EXTRUDE5_DEPTH)

    # #8 Clearance Hole3
    with Locations(Plane(origin=(0, -37.55, 0), x_dir=(1, 0, 0), z_dir=(0, 1, 0))):
        with Locations((-12.5, 23.5), (12.5, 23.5)):
            Hole(F_8_CLEARANCE_HOLE3_D / 2, depth=F_8_CLEARANCE_HOLE3_DEPTH)

    # Fillet4
    fillet4_edges = [part.edges().sort_by_distance(p)[0] for p in [
        (-3.5, -40.05, -29.5),
        (-19.5, -40.05, -29.5),
        (3.5, -40.05, -29.5),
        (19.5, -40.05, -29.5),
    ]]
    fillet(fillet4_edges, radius=FILLET4_R)

    # Chamfer3
    chamfer3_edges = [part.edges().sort_by_distance(p)[0] for p in [
        (14.7479, -42.55, -23.5),
        (-10.2521, -42.55, -23.5),
        (11.5, -42.55, -29.5),
        (4.378679656, -42.55, -28.621320344),
        (18.621320344, -42.55, -28.621320344),
        (-11.5, -42.55, -29.5),
        (-19.5, -42.55, -10.915),
        (-18.621320344, -42.55, -28.621320344),
        (-4.378679656, -42.55, -28.621320344),
        (-11.5, -42.55, 17.5),
        (19.5, -42.55, -4.5),
        (11.5, -42.55, 17.5),
        (-3.5, -42.55, -4.5),
        (3.5, -42.55, -4.5),
        (-19.5, -42.55, 16.085),
        (-15.6375, -42.55, 4.67),
        (-6.775, -42.55, 9.67),
        (-15.6375, -42.55, 14.67),
    ]]
    chamfer(chamfer3_edges, length=CHAMFER3_SIZE)


solid = part.part
